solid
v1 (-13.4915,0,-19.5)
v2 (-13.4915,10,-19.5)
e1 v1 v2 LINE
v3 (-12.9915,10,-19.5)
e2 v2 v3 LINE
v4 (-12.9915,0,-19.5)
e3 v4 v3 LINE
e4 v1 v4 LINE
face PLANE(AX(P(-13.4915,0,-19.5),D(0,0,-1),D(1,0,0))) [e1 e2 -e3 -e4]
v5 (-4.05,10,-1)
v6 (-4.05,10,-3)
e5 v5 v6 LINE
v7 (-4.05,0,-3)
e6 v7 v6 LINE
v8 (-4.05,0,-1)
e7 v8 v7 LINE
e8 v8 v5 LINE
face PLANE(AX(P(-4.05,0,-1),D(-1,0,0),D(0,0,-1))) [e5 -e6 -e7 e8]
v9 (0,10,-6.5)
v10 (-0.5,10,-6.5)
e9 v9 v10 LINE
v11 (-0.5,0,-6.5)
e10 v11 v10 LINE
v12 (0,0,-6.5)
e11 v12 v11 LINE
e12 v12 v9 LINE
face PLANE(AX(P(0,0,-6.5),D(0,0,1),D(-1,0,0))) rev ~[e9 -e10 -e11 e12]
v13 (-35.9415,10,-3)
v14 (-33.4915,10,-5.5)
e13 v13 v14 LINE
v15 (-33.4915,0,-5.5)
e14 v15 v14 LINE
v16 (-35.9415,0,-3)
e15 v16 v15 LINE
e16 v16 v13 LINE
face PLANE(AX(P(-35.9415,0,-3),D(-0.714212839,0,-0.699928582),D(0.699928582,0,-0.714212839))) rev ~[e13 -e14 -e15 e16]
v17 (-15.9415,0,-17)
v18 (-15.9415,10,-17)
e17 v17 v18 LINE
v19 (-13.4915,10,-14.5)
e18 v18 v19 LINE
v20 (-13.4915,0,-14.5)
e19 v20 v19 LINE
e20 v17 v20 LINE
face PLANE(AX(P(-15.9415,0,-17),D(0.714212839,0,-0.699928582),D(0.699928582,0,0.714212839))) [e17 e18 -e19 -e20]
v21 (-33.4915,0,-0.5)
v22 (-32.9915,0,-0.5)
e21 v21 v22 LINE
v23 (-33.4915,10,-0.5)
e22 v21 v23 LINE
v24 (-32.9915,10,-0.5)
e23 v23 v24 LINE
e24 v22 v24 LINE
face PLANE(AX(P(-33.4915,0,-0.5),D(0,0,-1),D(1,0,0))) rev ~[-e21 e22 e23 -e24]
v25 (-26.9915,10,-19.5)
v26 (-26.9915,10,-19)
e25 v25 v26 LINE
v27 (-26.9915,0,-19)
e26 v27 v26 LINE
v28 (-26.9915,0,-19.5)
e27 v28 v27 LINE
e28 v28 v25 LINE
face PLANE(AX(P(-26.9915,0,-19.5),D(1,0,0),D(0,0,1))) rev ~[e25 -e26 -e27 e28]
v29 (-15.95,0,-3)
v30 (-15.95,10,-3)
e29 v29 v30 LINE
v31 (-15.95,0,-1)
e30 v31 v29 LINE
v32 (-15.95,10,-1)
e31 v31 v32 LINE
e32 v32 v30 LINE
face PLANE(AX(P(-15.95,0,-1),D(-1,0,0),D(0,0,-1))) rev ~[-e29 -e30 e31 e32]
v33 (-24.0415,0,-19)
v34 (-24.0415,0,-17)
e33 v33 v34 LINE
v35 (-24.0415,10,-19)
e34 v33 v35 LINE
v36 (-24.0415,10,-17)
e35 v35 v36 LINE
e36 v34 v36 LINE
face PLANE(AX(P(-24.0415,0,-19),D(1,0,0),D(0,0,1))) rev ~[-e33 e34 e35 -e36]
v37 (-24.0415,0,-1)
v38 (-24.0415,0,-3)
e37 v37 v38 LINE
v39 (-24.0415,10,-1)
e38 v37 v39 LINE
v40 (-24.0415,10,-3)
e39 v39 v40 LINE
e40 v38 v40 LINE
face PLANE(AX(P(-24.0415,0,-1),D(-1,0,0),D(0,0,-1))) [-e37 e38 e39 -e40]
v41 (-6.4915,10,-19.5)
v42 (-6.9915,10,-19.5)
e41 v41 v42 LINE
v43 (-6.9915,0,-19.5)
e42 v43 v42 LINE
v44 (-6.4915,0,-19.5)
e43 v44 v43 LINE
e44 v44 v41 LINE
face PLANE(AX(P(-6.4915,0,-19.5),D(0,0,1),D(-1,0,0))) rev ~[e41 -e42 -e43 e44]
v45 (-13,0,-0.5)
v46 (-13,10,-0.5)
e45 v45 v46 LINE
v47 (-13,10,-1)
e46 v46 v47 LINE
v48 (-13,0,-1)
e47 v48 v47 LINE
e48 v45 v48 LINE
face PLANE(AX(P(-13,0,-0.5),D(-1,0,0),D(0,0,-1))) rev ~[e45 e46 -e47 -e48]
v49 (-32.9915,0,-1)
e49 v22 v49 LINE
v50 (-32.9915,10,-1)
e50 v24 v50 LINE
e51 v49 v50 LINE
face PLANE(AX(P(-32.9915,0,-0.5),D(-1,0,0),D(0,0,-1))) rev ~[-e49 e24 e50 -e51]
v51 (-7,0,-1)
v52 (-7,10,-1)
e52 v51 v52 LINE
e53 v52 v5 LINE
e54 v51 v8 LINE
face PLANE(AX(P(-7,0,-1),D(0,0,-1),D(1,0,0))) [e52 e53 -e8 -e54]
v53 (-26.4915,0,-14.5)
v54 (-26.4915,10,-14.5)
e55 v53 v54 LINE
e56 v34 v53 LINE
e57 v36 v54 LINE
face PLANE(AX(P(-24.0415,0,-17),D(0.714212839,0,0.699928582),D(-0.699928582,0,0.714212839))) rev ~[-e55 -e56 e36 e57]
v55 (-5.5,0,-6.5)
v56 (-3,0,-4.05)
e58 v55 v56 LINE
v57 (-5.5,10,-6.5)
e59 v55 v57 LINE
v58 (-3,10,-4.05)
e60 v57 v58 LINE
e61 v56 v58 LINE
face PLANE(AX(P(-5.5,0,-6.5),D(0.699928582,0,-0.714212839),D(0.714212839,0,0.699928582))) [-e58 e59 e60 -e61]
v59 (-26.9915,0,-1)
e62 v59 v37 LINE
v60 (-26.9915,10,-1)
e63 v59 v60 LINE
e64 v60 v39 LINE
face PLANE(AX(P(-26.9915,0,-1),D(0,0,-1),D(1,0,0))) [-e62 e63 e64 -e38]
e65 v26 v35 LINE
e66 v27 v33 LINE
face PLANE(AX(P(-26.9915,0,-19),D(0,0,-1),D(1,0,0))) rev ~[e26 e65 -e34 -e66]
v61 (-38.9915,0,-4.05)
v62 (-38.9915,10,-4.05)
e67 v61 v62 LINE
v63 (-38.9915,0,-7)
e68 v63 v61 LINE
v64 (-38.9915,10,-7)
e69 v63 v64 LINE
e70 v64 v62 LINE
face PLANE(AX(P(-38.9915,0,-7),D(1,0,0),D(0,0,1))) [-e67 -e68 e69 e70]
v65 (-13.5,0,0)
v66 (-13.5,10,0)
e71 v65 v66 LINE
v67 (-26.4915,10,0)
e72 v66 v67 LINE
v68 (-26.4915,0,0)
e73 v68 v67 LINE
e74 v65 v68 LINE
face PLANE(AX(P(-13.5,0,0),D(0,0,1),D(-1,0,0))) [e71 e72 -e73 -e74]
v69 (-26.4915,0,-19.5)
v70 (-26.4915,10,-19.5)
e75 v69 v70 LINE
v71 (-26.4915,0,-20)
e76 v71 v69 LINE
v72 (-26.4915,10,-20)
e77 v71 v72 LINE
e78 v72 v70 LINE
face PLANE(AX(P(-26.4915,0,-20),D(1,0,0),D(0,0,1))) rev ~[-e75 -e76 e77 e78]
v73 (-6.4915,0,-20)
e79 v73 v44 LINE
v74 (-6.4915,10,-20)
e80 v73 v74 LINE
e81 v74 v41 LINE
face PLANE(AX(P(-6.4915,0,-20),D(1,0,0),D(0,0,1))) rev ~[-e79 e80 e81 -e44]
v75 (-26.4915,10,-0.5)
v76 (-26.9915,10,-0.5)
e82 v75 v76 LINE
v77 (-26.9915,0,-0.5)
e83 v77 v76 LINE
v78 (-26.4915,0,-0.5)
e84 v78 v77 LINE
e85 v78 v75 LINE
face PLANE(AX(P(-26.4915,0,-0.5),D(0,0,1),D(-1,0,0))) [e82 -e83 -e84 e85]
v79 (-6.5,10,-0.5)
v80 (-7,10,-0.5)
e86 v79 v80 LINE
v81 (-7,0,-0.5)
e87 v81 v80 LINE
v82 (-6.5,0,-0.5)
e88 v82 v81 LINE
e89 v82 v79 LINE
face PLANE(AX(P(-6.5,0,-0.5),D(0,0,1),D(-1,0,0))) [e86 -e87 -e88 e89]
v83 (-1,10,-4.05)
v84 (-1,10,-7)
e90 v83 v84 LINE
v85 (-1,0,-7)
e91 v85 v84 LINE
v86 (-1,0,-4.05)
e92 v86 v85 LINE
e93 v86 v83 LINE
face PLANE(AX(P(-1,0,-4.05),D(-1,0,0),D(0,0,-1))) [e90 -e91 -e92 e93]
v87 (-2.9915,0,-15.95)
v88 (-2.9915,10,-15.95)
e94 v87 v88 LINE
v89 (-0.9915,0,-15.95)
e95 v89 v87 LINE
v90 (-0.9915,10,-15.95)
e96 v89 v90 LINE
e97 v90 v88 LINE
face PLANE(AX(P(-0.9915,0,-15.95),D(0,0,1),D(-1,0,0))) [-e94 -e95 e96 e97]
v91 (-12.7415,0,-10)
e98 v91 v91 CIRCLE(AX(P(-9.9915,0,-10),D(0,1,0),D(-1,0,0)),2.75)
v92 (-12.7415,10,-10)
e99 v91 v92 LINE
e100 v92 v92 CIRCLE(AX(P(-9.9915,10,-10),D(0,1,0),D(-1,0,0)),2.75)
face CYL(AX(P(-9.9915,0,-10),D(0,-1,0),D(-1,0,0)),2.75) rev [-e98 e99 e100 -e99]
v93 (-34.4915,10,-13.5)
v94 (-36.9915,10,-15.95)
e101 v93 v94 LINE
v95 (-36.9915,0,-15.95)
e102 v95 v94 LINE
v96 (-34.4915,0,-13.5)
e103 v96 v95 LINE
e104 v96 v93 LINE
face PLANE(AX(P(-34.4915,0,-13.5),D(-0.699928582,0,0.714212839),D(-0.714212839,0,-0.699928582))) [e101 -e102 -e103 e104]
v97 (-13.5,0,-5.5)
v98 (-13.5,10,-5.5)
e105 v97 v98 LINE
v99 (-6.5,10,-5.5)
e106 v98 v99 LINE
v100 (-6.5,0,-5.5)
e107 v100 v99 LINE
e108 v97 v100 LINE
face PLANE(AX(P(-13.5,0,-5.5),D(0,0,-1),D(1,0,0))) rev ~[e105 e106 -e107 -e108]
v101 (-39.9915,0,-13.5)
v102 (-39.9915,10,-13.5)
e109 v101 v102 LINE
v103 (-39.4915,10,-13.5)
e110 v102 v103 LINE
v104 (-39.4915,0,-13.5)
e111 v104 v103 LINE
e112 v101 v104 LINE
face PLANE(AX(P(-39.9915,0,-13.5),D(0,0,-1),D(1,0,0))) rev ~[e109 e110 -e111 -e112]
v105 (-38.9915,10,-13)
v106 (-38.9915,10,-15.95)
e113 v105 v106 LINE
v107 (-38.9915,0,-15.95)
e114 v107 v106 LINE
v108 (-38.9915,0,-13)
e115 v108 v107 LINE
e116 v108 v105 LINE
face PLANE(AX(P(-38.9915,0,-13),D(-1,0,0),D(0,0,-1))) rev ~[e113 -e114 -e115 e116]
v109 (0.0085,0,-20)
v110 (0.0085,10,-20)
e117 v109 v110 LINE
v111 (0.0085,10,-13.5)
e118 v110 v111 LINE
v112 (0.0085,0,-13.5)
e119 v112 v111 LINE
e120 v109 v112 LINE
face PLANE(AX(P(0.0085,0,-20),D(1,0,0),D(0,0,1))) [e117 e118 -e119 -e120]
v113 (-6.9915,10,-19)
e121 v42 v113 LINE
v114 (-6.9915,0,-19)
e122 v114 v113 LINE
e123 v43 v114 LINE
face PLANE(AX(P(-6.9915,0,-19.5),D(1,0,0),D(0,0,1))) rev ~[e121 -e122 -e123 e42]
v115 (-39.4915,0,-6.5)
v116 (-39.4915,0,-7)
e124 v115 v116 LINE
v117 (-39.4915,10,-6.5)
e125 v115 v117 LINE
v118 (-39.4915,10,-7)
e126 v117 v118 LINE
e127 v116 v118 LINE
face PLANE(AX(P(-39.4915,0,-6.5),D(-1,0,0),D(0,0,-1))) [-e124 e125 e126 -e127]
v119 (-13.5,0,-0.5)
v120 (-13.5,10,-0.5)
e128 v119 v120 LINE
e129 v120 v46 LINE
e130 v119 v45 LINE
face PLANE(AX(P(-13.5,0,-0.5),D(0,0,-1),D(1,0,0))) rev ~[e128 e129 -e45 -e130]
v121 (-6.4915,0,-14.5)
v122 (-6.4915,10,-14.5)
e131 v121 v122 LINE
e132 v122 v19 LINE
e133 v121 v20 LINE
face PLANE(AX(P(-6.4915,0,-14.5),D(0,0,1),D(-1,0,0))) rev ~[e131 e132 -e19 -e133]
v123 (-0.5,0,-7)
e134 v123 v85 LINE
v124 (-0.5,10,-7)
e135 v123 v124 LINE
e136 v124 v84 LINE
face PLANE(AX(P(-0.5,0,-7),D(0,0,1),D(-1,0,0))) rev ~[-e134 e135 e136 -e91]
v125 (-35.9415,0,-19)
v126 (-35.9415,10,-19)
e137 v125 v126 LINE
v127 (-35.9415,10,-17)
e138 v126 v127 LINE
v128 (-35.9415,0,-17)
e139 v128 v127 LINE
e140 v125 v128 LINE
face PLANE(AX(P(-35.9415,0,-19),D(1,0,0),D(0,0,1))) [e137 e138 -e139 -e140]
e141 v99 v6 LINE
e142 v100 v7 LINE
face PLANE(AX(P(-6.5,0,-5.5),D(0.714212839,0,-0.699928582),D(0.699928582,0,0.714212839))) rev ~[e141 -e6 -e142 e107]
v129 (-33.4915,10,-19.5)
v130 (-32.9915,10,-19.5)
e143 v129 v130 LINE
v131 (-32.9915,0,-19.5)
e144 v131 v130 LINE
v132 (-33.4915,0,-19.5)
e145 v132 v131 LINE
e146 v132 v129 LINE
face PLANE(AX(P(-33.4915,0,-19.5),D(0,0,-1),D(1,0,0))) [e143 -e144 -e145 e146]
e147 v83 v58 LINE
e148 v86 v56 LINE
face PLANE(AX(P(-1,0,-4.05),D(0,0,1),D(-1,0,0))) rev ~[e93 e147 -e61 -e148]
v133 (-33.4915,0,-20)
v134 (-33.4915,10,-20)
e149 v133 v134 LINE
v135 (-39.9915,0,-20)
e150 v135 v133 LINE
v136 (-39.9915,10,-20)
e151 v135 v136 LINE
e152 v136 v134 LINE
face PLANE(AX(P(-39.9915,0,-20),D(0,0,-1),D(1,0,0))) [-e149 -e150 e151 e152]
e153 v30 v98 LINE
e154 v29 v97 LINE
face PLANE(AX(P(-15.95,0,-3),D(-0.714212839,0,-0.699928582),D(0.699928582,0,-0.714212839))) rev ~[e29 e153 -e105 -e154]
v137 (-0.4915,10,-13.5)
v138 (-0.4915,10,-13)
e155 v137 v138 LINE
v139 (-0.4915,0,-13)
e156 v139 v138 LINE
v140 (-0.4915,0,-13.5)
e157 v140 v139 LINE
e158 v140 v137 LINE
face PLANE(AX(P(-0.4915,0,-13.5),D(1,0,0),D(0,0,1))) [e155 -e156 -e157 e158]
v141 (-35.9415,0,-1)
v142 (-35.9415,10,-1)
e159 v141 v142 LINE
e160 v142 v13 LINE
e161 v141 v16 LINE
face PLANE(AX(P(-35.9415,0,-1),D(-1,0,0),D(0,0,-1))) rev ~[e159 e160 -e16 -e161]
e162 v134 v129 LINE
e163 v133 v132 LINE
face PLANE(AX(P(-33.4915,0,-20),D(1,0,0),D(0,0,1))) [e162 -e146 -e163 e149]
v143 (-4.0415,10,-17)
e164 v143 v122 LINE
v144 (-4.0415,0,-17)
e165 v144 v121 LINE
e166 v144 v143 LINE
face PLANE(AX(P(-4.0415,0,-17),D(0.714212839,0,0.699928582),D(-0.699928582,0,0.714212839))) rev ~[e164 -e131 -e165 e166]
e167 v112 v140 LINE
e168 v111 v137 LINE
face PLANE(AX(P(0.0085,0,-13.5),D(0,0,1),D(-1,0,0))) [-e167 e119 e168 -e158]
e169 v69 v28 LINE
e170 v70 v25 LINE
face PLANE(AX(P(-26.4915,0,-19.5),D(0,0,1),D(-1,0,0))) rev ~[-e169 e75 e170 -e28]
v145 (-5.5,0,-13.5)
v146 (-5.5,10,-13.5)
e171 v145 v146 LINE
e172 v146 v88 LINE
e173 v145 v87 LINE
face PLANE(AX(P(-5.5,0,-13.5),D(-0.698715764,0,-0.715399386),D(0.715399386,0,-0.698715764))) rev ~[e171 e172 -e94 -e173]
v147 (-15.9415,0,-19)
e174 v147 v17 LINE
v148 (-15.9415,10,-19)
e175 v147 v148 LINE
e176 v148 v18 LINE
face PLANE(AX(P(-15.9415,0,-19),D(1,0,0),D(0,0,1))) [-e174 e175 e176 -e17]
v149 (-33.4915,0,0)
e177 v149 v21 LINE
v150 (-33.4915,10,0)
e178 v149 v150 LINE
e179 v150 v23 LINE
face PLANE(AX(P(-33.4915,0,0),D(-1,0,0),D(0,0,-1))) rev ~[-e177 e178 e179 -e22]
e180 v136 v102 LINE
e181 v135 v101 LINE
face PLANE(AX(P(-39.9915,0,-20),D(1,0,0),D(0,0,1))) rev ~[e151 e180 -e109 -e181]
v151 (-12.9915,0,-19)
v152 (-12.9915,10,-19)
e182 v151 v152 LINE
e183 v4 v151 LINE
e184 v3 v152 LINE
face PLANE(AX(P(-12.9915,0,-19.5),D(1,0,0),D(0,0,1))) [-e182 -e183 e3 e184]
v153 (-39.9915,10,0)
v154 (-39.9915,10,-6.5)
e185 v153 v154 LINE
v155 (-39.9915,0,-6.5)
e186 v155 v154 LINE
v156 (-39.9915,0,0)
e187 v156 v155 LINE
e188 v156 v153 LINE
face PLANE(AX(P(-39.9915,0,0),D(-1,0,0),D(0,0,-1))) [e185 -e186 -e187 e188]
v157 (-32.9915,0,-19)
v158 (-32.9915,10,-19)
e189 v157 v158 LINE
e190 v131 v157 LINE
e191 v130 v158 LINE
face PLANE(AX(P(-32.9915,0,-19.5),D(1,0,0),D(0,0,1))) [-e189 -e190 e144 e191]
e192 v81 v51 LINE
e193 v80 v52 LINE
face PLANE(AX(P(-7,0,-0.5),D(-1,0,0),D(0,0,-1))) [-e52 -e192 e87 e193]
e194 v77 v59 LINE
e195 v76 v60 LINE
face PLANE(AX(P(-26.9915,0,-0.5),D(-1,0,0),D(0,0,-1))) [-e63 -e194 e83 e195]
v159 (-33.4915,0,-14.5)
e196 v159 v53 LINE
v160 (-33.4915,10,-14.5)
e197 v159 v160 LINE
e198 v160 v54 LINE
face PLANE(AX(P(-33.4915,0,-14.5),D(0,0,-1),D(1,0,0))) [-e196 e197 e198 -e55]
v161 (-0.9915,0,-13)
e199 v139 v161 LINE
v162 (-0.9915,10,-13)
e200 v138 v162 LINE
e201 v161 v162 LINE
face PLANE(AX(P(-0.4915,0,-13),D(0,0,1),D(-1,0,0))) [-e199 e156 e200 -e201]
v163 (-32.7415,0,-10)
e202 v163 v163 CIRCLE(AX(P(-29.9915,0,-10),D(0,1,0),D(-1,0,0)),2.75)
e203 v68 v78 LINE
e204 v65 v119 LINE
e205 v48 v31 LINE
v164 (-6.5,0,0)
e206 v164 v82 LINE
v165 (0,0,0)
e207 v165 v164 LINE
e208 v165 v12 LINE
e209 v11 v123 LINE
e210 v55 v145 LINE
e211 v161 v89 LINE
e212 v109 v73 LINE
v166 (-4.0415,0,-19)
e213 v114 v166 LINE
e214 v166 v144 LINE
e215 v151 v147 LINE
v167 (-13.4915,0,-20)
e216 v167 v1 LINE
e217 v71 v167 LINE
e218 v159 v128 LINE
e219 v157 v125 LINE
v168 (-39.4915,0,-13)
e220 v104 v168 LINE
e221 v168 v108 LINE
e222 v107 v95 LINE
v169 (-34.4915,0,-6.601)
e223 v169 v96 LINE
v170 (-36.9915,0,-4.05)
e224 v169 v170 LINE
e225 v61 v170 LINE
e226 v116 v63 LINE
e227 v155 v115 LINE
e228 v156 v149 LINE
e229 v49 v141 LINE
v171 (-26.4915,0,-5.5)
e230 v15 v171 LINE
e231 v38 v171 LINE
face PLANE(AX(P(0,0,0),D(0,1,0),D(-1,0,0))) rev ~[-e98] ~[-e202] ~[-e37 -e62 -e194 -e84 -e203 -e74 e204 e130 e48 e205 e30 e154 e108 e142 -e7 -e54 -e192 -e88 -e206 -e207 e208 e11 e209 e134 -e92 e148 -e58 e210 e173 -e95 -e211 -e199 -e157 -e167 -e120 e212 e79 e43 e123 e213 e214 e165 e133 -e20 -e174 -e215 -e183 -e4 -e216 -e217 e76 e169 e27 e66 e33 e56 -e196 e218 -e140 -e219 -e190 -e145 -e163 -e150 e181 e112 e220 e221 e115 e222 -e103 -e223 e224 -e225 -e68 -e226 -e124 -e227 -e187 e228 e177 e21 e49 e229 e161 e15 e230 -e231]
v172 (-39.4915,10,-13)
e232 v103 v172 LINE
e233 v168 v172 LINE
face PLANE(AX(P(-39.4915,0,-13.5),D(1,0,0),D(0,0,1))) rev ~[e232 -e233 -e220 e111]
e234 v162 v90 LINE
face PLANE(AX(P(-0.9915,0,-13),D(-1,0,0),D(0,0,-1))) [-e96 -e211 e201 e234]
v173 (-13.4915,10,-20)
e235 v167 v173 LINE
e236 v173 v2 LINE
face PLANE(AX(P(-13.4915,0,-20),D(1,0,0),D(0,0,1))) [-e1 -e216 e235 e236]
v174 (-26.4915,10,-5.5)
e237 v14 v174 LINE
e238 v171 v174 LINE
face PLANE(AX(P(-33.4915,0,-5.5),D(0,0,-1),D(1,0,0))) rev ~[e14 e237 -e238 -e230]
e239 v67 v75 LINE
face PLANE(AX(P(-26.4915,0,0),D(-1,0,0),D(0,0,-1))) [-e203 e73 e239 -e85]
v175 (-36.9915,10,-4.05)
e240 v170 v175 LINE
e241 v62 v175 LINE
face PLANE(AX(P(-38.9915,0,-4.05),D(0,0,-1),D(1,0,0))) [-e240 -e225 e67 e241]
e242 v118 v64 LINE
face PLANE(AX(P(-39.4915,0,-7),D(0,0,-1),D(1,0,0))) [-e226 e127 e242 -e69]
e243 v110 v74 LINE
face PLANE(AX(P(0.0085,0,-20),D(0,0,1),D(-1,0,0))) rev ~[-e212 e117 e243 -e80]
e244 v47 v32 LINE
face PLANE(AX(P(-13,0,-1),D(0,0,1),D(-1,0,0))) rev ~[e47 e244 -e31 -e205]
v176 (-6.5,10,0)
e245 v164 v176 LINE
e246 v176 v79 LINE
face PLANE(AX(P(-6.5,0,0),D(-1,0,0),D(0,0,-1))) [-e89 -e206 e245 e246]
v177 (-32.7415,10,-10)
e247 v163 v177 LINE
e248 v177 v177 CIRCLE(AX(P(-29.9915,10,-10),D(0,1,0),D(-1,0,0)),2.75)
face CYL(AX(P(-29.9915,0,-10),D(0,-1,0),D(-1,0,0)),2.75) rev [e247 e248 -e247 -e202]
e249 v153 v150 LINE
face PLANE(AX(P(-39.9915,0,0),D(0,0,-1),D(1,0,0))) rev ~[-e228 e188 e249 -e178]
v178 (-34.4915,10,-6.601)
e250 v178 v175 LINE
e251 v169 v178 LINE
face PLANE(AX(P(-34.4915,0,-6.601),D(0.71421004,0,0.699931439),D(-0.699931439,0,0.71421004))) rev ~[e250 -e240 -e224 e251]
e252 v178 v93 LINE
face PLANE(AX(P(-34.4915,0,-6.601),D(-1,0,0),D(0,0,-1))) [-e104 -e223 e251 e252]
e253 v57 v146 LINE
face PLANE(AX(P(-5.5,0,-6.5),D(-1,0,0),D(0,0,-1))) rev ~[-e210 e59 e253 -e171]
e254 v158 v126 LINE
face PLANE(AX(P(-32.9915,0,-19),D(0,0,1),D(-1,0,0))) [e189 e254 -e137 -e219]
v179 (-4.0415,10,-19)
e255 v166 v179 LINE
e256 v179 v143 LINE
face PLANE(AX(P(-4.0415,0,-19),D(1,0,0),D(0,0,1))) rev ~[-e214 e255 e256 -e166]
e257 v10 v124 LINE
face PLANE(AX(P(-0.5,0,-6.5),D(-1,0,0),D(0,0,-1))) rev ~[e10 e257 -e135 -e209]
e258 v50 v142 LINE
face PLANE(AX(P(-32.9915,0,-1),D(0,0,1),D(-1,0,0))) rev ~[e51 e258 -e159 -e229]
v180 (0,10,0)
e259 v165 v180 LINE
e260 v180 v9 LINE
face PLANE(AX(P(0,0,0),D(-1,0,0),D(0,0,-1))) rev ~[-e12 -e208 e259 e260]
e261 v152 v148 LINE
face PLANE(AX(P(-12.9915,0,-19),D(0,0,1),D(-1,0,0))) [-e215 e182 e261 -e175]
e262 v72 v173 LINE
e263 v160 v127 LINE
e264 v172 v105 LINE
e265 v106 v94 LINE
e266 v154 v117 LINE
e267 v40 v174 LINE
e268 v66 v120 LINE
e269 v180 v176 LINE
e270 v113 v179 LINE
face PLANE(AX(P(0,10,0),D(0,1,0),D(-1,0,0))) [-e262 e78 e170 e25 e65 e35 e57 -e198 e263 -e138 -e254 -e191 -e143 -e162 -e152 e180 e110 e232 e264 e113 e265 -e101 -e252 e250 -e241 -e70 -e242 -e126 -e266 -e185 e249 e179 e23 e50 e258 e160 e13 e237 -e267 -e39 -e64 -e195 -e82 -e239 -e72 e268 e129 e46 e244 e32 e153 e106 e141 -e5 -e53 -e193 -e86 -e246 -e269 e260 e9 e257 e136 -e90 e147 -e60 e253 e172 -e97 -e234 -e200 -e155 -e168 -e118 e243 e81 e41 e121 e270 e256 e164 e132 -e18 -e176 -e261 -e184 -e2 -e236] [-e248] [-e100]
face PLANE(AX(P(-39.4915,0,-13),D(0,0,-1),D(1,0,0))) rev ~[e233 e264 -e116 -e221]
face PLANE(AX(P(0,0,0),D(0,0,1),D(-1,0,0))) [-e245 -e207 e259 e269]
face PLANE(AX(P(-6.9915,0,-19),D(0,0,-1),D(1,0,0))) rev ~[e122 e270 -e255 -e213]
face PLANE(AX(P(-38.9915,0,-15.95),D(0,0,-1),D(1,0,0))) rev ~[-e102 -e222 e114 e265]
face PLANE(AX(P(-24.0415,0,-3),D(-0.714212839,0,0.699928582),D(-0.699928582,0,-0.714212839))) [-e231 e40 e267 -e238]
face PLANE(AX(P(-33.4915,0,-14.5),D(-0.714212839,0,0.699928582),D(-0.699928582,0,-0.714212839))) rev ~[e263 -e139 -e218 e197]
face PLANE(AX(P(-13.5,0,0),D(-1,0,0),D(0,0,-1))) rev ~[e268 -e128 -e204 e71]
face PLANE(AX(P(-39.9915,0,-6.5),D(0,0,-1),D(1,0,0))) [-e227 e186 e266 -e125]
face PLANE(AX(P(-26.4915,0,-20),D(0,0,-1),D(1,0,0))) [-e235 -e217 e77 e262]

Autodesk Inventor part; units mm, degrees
ref_plane "YZ Plane" through (0, 0, 0) normal (1, 0, 0) x (0, 1, 0)
ref_plane "XZ Plane" through (0, 0, 0) normal (0, 1, 0) x (-1, 0, 0)
ref_plane "XY Plane" through (0, 0, 0) normal (0, 0, 1) x (1, 0, 0)
sketch "Sketch1" plane through (0, 0, 0) normal (0, 1, 0) x (-1, 0, 0)
  circle A0 centre (29.9915, -10) radius 2.75
  circle A1 centre (9.9915, -10) radius 2.75
  line L0 (0, 0) -> (0, -6.5)
  line L1 (-0.0085, -20) -> (-0.0085, -13.5)
  line L2 (0, -6.5) -> (0.5, -6.5)
  line L3 (0.5, -6.5) -> (0.5, -7)
  line L4 (0.5, -7) -> (1, -7)
  line L5 (-0.0085, -13.5) -> (0.4915, -13.5)
  line L6 (0.4915, -13.5) -> (0.4915, -13)
  line L7 (0.4915, -13) -> (0.9915, -13)
  line L8 (1, -4.05) -> (3, -4.05)
  line L9 (0.9915, -15.95) -> (2.9915, -15.95)
  line L10 (5.5, -6.5) -> (5.5, -13.5)
  line L11 (5.5, -13.5) -> (2.9915, -15.95)
  line L12 (5.5, -6.5) -> (3, -4.05)
  line L13 (1, -4.05) -> (1, -7)
  line L14 (0.9915, -13) -> (0.9915, -15.95)
  line L15 (-0.0085, -20) -> (6.4915, -20)
  line L16 (6.4915, -20) -> (6.4915, -19.5)
  line L17 (6.4915, -19.5) -> (6.9915, -19.5)
  line L18 (6.9915, -19.5) -> (6.9915, -19)
  line L19 (6.9915, -19) -> (4.0415, -19)
  line L20 (4.0415, -19) -> (4.0415, -17)
  line L21 (13.4915, -20) -> (13.4915, -19.5)
  line L22 (13.4915, -19.5) -> (12.9915, -19.5)
  line L23 (12.9915, -19.5) -> (12.9915, -19)
  line L24 (12.9915, -19) -> (15.9415, -19)
  line L25 (15.9415, -19) -> (15.9415, -17)
  line L26 (15.9415, -17) -> (13.4915, -14.5)
  line L27 (6.4915, -14.5) -> (13.4915, -14.5)
  line L28 (4.0415, -17) -> (6.4915, -14.5)
  line L29 (39.9915, 0) -> (39.9915, -6.5)
  line L30 (39.9915, -6.5) -> (39.4915, -6.5)
  line L31 (39.4915, -6.5) -> (39.4915, -7)
  line L32 (39.4915, -7) -> (38.9915, -7)
  line L33 (38.9915, -7) -> (38.9915, -4.05)
  line L34 (38.9915, -4.05) -> (36.9915, -4.05)
  line L35 (39.9915, -20) -> (39.9915, -13.5)
  line L36 (39.9915, -13.5) -> (39.4915, -13.5)
  line L37 (39.4915, -13.5) -> (39.4915, -13)
  line L38 (39.4915, -13) -> (38.9915, -13)
  line L39 (38.9915, -13) -> (38.9915, -15.95)
  line L40 (38.9915, -15.95) -> (36.9915, -15.95)
  line L41 (34.4915, -6.601) -> (34.4915, -13.5)
  line L42 (34.4915, -13.5) -> (36.9915, -15.95)
  line L43 (34.4915, -6.601) -> (36.9915, -4.05)
  line L44 (39.9915, -20) -> (33.4915, -20)
  line L45 (33.4915, -20) -> (33.4915, -19.5)
  line L46 (33.4915, -19.5) -> (32.9915, -19.5)
  line L47 (32.9915, -19.5) -> (32.9915, -19)
  line L48 (32.9915, -19) -> (35.9415, -19)
  line L49 (35.9415, -19) -> (35.9415, -17)
  line L50 (26.4915, -20) -> (26.4915, -19.5)
  line L51 (26.4915, -19.5) -> (26.9915, -19.5)
  line L52 (26.9915, -19.5) -> (26.9915, -19)
  line L53 (26.9915, -19) -> (24.0415, -19)
  line L54 (24.0415, -19) -> (24.0415, -17)
  line L55 (33.4915, -14.5) -> (26.4915, -14.5)
  line L56 (24.0415, -17) -> (26.4915, -14.5)
  line L57 (33.4915, -14.5) -> (35.9415, -17)
  line L58 (26.4915, -20) -> (13.4915, -20)
  line L59 (39.9915, 0) -> (33.4915, 0)
  line L60 (33.4915, 0) -> (33.4915, -0.5)
  line L61 (33.4915, -0.5) -> (32.9915, -0.5)
  line L62 (32.9915, -0.5) -> (32.9915, -1)
  line L63 (32.9915, -1) -> (35.9415, -1)
  line L64 (35.9415, -1) -> (35.9415, -3)
  line L65 (26.4915, 0) -> (26.4915, -0.5)
  line L66 (26.4915, -0.5) -> (26.9915, -0.5)
  line L67 (26.9915, -0.5) -> (26.9915, -1)
  line L68 (26.9915, -1) -> (24.0415, -1)
  line L69 (24.0415, -1) -> (24.0415, -3)
  line L70 (33.4915, -5.5) -> (26.4915, -5.5)
  line L71 (24.0415, -3) -> (26.4915, -5.5)
  line L72 (35.9415, -3) -> (33.4915, -5.5)
  line L73 (0, 0) -> (6.5, 0)
  line L74 (6.5, 0) -> (6.5, -0.5)
  line L75 (6.5, -0.5) -> (7, -0.5)
  line L76 (7, -0.5) -> (7, -1)
  line L77 (7, -1) -> (4.05, -1)
  line L78 (4.05, -1) -> (4.05, -3)
  line L79 (13.5, 0) -> (13.5, -0.5)
  line L80 (13.5, -0.5) -> (13, -0.5)
  line L81 (13, -0.5) -> (13, -1)
  line L82 (13, -1) -> (15.95, -1)
  line L83 (15.95, -1) -> (15.95, -3)
  line L84 (13.5, -5.5) -> (6.5, -5.5)
  line L85 (6.5, -5.5) -> (4.05, -3)
  line L86 (15.95, -3) -> (13.5, -5.5)
  line L87 (13.5, 0) -> (26.4915, 0)
  dimension "d0" = 40
  dimension "d1" = 20
  dimension "d2" = 5.5
  dimension "d3" = 5.5
  dimension "d4" = 20
  dimension "d11" = 6.5
  dimension "d12" = 6.5
  dimension "d13" = 0.5
  dimension "d14" = 0.5
  dimension "d15" = 0.5
  dimension "d16" = 0.5
  dimension "d17" = 0.5
  dimension "d18" = 0.5
  dimension "d19" = 5.5
  dimension "d20" = 11.9
  dimension "d21" = 6.5
  dimension "d22" = 0.5
  dimension "d23" = 0.5
  dimension "d24" = 0.5
  dimension "d25" = 0.5
  dimension "d26" = 0.5
  dimension "d27" = 0.5
  dimension "d28" = 7
  dimension "d29" = 11.9
  dimension "d31" = 4.05
  dimension "d32" = 2.95
  dimension "d34" = 2
  dimension "d35" = 2
  dimension "d36" = 2
  dimension "d37" = 2
  dimension "d39" = 7
  dimension "d40" = 6.5
  dimension "d41" = 0.5
  dimension "d42" = 0.5
  dimension "d43" = 0.5
  dimension "d44" = 2.95
  dimension "d45" = 2
  dimension "d46" = 6.5
  dimension "d47" = 0.5
  dimension "d48" = 0.5
  dimension "d49" = 0.5
  dimension "d50" = 2.95
  dimension "d51" = 2
  dimension "d52" = 5.5
  dimension "d53" = 6.5
  dimension "d54" = 0.5
  dimension "d55" = 0.5
  dimension "d56" = 0.5
  dimension "d57" = 2.95
  dimension "d58" = 2
  dimension "d59" = 0.5
  dimension "d60" = 0.5
  dimension "d61" = 0.5
  dimension "d62" = 2.95
  dimension "d63" = 2
  dimension "d64" = 7
  dimension "d66" = 6.5
  dimension "d67" = 0.5
  dimension "d68" = 0.5
  dimension "d69" = 0.5
  dimension "d70" = 2.95
  dimension "d71" = 2
  dimension "d72" = 0.5
  dimension "d73" = 0.5
extrude "Extrusion1" add sketch "Sketch1" along normal blind 10
properties part number "Tslot_2040extrusion"
